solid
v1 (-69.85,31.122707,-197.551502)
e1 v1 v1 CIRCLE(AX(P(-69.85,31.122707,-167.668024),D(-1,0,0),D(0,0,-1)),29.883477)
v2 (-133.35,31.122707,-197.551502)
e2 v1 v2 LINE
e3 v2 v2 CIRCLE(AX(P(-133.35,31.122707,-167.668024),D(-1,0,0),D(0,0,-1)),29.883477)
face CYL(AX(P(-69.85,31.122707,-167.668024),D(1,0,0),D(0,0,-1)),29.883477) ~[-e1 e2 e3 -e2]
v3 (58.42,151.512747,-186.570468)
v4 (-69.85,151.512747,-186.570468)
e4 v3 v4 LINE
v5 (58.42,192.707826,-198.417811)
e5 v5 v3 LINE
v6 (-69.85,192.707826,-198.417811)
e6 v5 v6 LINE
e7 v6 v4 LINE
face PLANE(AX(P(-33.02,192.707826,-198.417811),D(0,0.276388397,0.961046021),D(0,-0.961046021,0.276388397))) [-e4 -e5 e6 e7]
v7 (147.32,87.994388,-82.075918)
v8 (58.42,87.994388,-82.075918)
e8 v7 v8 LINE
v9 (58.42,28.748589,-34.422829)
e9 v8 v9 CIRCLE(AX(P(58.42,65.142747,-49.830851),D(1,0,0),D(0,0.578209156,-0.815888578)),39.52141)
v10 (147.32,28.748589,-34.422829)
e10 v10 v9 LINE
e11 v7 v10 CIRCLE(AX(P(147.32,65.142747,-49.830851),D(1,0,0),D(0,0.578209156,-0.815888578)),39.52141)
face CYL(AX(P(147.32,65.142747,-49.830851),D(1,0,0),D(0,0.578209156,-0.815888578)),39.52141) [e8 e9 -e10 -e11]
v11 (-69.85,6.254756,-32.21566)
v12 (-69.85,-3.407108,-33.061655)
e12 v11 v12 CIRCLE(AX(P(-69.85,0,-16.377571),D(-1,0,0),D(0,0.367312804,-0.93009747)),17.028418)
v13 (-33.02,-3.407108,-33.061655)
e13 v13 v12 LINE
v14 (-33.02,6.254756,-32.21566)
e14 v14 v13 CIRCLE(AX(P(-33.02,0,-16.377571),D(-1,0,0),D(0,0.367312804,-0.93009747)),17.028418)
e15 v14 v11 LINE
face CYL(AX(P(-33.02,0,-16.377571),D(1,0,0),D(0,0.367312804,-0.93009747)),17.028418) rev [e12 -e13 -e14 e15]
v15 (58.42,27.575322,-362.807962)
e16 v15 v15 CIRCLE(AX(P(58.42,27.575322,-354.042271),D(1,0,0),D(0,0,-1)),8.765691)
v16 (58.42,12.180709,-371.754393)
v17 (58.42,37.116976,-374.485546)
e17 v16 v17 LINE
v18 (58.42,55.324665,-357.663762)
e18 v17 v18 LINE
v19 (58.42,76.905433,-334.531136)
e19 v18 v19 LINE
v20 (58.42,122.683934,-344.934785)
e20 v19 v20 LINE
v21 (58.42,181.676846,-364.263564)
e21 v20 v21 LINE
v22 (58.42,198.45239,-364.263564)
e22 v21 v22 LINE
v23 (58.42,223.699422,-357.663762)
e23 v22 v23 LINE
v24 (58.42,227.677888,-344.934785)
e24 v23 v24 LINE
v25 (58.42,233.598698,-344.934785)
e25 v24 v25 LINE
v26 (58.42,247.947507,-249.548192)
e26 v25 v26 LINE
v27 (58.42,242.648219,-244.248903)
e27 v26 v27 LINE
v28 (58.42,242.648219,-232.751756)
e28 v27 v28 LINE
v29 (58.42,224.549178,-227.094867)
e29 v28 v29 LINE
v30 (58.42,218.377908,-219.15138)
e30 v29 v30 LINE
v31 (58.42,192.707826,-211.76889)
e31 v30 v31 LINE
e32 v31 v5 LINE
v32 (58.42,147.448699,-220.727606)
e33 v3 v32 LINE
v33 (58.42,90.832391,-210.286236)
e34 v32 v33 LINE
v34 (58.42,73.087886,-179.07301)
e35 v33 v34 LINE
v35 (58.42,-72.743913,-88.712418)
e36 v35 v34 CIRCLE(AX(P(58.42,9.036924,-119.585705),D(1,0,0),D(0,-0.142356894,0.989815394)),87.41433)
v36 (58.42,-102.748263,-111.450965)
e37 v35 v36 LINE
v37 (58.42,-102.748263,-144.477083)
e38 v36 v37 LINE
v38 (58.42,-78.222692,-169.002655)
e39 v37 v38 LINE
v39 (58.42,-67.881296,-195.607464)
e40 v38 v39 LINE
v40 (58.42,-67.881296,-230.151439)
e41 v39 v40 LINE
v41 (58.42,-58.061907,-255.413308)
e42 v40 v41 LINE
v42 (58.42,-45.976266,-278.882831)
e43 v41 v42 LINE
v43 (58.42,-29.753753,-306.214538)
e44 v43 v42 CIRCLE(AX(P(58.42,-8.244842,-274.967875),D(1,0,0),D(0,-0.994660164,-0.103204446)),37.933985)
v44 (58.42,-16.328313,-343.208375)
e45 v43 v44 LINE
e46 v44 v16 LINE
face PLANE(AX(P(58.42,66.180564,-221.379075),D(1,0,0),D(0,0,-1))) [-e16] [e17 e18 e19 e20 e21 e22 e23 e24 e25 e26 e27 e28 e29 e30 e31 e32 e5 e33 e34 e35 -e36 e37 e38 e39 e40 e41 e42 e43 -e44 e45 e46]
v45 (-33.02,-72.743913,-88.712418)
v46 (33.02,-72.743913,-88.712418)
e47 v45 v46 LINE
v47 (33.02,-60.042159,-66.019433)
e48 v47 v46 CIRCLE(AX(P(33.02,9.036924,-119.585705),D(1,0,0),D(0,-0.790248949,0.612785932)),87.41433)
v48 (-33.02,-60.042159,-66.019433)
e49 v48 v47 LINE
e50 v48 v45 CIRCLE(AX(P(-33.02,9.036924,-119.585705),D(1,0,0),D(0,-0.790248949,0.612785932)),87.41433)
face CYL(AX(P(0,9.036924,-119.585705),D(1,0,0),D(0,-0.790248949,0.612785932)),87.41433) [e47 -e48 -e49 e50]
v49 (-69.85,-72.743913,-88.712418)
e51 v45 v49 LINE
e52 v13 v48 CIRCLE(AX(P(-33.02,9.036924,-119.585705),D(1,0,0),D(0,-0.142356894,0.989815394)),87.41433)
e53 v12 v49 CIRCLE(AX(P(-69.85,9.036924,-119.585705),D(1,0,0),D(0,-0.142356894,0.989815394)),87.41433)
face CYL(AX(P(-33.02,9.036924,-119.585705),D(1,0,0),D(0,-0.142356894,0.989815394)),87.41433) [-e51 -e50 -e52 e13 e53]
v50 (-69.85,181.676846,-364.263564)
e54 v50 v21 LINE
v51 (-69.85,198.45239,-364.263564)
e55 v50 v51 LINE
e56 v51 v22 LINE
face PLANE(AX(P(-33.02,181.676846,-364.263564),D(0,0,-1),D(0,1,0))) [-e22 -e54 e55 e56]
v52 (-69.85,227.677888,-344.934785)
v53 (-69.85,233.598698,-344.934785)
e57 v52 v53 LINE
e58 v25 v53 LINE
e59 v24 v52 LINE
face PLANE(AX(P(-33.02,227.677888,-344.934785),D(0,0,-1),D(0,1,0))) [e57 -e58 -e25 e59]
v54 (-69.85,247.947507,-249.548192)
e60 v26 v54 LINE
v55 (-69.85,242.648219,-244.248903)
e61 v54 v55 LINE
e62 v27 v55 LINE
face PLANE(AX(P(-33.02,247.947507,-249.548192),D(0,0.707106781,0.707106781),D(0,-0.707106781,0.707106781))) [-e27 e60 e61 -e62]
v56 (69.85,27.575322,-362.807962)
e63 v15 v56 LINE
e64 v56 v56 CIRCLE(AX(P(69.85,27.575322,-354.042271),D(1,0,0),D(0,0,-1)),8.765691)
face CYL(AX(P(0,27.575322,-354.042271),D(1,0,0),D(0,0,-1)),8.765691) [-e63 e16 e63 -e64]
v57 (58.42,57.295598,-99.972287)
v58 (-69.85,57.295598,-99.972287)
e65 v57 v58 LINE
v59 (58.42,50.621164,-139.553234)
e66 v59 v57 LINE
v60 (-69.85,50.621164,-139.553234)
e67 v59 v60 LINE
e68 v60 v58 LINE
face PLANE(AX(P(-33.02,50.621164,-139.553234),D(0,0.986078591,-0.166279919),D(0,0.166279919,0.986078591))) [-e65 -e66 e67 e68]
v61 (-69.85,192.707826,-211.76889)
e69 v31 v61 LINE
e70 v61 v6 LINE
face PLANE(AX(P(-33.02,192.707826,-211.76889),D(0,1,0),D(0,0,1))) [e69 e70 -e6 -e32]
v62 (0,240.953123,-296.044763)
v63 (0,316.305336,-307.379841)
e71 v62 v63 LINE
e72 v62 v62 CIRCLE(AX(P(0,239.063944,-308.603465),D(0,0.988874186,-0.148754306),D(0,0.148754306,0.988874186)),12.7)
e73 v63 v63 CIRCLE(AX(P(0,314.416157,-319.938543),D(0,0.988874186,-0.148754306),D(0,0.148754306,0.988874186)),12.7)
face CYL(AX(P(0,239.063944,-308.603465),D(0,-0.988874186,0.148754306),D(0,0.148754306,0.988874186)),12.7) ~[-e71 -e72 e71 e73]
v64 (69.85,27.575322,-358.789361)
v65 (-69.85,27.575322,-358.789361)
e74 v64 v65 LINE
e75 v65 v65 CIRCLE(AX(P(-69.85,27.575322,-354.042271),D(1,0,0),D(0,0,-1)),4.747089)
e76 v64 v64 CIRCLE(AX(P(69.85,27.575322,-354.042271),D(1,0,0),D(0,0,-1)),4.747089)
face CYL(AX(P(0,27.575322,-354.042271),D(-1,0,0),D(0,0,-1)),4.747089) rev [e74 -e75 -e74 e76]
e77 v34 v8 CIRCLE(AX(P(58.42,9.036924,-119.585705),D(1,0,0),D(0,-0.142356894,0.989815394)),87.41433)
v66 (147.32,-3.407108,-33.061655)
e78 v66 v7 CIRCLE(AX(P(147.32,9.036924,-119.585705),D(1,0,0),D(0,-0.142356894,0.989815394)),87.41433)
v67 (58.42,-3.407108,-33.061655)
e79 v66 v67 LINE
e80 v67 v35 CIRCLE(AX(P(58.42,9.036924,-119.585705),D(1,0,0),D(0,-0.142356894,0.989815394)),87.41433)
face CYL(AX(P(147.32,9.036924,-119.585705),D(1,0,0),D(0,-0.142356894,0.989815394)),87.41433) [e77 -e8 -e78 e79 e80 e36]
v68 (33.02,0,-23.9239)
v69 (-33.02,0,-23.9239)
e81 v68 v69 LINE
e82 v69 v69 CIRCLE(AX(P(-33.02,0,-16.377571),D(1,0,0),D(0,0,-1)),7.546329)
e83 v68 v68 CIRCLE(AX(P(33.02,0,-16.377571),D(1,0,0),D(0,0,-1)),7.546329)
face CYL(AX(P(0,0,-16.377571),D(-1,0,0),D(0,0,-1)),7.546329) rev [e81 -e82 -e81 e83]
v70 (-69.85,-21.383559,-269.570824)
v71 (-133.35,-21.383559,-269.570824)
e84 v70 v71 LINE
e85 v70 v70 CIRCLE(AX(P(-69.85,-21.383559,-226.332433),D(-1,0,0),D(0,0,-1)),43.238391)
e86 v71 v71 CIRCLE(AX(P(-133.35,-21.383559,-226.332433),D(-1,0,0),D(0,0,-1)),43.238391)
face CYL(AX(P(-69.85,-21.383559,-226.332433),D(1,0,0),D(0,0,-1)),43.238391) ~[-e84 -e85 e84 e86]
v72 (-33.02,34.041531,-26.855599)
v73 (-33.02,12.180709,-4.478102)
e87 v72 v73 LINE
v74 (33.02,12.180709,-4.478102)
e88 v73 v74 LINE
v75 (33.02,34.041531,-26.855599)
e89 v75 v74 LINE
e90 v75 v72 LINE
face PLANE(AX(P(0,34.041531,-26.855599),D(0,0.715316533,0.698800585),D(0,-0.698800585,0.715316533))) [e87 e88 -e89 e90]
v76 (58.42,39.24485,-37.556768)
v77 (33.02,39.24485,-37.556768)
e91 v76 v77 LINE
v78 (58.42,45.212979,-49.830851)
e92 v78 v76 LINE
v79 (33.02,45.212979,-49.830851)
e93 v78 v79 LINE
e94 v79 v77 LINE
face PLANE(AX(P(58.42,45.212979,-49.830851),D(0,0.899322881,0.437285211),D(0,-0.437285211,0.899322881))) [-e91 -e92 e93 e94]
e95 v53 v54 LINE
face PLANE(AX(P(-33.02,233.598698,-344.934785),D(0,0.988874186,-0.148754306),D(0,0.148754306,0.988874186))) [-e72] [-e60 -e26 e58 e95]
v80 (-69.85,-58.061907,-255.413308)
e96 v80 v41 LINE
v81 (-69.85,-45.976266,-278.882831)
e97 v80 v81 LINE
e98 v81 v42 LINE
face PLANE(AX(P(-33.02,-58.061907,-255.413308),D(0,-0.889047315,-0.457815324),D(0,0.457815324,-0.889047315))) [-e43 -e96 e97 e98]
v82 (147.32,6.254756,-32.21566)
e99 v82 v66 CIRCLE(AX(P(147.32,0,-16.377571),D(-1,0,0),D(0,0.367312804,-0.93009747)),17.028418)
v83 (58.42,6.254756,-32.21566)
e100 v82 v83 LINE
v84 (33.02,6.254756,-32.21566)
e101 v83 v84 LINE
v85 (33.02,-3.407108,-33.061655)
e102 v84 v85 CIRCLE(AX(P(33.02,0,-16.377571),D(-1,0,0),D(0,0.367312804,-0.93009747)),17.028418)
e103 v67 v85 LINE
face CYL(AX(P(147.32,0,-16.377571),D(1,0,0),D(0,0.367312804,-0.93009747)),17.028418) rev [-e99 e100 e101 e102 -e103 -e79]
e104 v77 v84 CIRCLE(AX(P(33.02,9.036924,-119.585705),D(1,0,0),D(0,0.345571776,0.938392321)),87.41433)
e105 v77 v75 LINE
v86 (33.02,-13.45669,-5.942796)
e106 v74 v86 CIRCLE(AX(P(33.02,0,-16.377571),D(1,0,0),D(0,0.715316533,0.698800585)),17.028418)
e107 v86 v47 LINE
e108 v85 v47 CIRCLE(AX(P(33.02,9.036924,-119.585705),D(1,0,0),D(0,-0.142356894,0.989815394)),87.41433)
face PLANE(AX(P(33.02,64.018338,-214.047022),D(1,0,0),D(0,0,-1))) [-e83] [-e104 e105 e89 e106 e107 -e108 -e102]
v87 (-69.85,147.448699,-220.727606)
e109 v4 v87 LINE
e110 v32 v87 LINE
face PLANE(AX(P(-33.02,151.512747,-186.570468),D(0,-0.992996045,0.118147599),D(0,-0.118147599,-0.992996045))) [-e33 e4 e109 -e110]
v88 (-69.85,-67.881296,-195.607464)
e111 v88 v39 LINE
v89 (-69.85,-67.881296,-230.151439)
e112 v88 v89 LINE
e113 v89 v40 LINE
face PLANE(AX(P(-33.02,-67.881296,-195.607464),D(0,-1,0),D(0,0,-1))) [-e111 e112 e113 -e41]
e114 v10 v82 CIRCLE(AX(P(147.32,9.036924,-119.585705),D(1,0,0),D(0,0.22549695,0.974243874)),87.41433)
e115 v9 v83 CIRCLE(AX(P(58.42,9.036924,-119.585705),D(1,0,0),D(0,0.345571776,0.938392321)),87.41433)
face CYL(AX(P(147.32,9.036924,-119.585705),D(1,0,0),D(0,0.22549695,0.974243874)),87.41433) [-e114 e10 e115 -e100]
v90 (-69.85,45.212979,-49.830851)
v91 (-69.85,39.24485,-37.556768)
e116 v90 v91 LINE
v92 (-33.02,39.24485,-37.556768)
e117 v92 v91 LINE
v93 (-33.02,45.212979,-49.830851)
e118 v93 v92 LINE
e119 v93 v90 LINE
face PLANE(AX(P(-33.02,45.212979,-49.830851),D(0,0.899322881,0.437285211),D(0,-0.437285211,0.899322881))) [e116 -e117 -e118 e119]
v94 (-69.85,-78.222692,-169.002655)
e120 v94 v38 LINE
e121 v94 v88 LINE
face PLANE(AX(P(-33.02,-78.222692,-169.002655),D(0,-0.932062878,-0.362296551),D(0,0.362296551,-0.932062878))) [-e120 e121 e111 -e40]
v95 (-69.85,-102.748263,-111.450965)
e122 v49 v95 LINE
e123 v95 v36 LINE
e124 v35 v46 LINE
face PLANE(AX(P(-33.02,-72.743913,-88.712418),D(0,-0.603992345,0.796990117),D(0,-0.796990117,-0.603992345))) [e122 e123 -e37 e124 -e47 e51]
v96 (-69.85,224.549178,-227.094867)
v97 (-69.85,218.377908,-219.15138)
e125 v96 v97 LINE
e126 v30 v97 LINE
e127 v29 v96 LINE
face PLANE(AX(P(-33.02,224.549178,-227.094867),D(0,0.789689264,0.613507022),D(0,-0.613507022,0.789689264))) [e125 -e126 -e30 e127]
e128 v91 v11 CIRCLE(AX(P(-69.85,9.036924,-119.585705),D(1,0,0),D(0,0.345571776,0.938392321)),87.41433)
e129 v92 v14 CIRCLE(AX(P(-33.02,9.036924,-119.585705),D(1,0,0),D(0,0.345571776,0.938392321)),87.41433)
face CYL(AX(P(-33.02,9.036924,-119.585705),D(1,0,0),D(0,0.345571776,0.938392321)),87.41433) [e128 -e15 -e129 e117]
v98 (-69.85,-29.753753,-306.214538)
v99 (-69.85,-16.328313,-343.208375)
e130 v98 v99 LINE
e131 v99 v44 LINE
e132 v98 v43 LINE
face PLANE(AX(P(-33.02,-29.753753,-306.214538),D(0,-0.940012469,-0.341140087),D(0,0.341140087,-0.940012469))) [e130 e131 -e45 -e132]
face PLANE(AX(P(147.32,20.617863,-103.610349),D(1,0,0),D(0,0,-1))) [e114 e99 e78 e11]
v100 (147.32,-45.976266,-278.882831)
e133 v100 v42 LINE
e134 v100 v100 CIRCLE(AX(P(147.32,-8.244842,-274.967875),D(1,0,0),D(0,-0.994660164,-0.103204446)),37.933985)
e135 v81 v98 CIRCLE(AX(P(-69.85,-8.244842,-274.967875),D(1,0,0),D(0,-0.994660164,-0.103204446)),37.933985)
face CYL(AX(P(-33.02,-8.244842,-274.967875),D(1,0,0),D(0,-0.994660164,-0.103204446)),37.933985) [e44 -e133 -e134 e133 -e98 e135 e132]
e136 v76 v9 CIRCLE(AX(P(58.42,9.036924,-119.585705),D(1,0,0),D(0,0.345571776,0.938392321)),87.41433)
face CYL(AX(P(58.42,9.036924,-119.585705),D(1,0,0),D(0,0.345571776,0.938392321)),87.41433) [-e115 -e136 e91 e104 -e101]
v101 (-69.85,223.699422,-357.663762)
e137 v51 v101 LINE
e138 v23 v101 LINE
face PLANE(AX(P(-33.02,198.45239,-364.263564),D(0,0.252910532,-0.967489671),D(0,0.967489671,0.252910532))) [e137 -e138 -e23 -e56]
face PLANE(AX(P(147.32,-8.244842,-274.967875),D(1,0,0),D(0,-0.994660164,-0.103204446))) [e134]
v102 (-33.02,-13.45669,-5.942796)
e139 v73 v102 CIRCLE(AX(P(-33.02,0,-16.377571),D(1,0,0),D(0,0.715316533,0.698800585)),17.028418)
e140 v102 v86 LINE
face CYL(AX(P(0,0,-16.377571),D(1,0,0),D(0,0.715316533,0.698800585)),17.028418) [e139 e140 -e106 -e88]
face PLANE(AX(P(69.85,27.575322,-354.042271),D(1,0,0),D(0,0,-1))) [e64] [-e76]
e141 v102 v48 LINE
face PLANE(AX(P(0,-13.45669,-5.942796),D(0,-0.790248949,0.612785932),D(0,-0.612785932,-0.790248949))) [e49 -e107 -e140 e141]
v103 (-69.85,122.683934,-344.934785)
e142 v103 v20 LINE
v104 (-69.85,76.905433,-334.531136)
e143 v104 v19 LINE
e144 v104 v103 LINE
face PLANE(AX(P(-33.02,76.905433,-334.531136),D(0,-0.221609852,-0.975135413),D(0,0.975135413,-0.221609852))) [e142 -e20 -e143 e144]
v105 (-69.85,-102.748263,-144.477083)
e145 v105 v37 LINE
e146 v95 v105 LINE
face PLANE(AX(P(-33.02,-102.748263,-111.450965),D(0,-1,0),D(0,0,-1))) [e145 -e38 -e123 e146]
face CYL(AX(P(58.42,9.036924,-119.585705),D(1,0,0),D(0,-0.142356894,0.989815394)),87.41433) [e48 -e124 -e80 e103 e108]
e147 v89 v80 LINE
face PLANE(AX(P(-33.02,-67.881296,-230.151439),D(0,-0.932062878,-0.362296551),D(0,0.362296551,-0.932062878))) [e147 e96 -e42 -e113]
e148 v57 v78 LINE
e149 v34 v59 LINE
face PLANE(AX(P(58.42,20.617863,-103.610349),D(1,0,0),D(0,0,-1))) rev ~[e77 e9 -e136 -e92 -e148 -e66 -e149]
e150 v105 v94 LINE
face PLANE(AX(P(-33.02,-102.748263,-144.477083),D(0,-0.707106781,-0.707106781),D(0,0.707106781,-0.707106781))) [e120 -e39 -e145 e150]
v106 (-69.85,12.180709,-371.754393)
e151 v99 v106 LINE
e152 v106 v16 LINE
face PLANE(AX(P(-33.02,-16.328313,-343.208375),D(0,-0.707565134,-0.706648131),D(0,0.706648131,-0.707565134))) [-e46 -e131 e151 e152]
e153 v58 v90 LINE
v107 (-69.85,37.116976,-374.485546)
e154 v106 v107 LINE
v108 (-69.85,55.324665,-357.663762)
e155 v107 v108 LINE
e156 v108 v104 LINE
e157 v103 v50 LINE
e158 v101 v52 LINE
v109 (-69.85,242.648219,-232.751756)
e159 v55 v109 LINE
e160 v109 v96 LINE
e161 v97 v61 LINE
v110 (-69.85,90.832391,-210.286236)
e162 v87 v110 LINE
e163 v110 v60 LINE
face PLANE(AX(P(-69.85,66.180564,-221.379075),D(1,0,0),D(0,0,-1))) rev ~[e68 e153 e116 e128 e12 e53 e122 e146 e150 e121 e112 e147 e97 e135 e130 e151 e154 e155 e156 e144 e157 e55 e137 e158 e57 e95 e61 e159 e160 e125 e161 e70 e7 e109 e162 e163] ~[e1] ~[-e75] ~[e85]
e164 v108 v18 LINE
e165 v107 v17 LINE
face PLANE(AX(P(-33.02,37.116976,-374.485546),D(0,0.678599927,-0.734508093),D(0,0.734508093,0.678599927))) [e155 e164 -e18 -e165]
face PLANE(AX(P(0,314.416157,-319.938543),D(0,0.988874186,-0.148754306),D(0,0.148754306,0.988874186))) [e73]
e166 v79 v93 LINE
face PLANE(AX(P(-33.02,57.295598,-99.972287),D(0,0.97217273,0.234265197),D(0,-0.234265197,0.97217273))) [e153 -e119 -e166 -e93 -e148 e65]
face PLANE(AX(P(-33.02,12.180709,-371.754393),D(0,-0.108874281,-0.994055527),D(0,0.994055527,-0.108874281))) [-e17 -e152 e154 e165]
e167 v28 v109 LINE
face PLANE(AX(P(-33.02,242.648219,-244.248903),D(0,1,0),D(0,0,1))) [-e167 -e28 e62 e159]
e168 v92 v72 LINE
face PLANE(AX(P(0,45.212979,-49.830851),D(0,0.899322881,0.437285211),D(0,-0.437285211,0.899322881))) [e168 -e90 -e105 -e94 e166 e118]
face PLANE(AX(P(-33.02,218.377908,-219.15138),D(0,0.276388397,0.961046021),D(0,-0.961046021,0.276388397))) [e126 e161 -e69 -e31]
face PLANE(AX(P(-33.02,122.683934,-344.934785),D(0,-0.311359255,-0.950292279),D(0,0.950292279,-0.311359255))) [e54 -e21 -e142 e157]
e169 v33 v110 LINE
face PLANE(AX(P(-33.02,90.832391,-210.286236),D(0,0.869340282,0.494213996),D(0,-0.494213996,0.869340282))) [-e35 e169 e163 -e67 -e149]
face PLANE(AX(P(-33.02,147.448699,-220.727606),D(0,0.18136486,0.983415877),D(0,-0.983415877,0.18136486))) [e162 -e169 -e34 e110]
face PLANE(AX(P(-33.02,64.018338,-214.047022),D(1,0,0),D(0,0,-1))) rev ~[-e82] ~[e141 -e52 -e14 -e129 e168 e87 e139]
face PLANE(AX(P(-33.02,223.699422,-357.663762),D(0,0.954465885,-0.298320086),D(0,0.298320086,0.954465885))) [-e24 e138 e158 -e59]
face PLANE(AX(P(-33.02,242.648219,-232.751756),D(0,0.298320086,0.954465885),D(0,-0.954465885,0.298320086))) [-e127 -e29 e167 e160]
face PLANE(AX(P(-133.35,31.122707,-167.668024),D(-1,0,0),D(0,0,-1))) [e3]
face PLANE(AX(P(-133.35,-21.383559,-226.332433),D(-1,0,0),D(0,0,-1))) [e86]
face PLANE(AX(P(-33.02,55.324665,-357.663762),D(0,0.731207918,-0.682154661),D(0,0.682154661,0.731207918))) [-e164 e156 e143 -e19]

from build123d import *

# Parameters (mm, degrees)
SKETCH3_R           = 8.765690973
SKETCH3_R_2         = 7.546329472
BOSS_EXTRUDE1_DEPTH = 33.02
SKETCH3_3_R         = 8.765690973
SKETCH3_3_R_2       = 4.747089374
BOSS_EXTRUDE2_DEPTH = 69.85
BOSS_EXTRUDE3_START = 58.42
SKETCH3_4_R         = 8.765690973
BOSS_EXTRUDE3_DEPTH = 25.4
BOSS_EXTRUDE4_START = 147.32
SKETCH3_5_R         = 37.933984784
BOSS_EXTRUDE4_DEPTH = 88.9
BOSS_EXTRUDE5_START = -33.02
SKETCH3_6_R         = 8.765690973
BOSS_EXTRUDE5_DEPTH = 36.83
SKETCH4_R           = 29.883477217
SKETCH4_R_2         = 43.238390789
BOSS_EXTRUDE6_DEPTH = 63.5
SKETCH5_R           = 12.7
BOSS_EXTRUDE7_DEPTH = 76.2


with BuildPart() as part:
    # Sketch3 → Boss-Extrude1 (new, symmetric)
    with BuildSketch(Plane(origin=(0, 0, 0), x_dir=(0, 0, -1), z_dir=(1, 0, 0))):
        with BuildLine():
            Line((26.855598623, 34.04153134), (4.47810231, 12.180709193))
            ThreePointArc((4.47810231, 12.180709193), (-0.623125102, -0.971268934), (5.942795811, -13.456689726))
            Line((5.942795811, -13.456689726), (66.019432644, -60.042158643))
            ThreePointArc((66.019432644, -60.042158643), (76.890934177, -67.24165573), (88.712417559, -72.743912948))
            Line((88.712417559, -72.743912948), (111.45096516, -102.748262935))
            Line((111.45096516, -102.748262935), (144.477083252, -102.748262935))
            Line((144.477083252, -102.748262935), (169.002654574, -78.222691613))
            Line((169.002654574, -78.222691613), (195.607463956, -67.881296304))
            Line((195.607463956, -67.881296304), (230.151439421, -67.881296304))
            Line((230.151439421, -67.881296304), (255.413307952, -58.06190745))
            Line((255.413307952, -58.06190745), (278.88283078, -45.976265865))
            ThreePointArc((278.88283078, -45.976265865), (294.32962444, -40.865539072), (306.21453812, -29.753753007))
            Line((306.21453812, -29.753753007), (343.20837466, -16.328313428))
            Line((343.20837466, -16.328313428), (371.754392863, 12.180709193))
            Line((371.754392863, 12.180709193), (374.485546232, 37.116975937))
            Line((374.485546232, 37.116975937), (357.663762198, 55.324665065))
            Line((357.663762198, 55.324665065), (334.531136252, 76.90543329))
            Line((334.531136252, 76.90543329), (344.934785387, 122.683933603))
            Line((344.934785387, 122.683933603), (364.263564291, 181.676846378))
            Line((364.263564291, 181.676846378), (364.263564291, 198.452389962))
            Line((364.263564291, 198.452389962), (357.663762198, 223.699422208))
            Line((357.663762198, 223.699422208), (344.934785387, 227.677887566))
            Line((344.934785387, 227.677887566), (344.934785387, 233.598698071))
            Line((344.934785387, 233.598698071), (249.548191735, 247.947506817))
            Line((249.548191735, 247.947506817), (244.248903474, 242.648218557))
            Line((244.248903474, 242.648218557), (232.751756038, 242.648218557))
            Line((232.751756038, 242.648218557), (227.094867147, 224.549177586))
            Line((227.094867147, 224.549177586), (219.151380314, 218.377908492))
            Line((219.151380314, 218.377908492), (211.768889899, 192.707825641))
            Line((211.768889899, 192.707825641), (198.41781103, 192.707825641))
            Line((198.41781103, 192.707825641), (186.570468216, 151.512747216))
            Line((186.570468216, 151.512747216), (220.727605993, 147.448698974))
            Line((220.727605993, 147.448698974), (210.286236359, 90.83239142))
            Line((210.286236359, 90.83239142), (139.553233817, 50.621163948))
            Line((139.553233817, 50.621163948), (99.972286673, 57.295598172))
            Line((99.972286673, 57.295598172), (49.830851017, 45.21297855))
            Line((49.830851017, 45.21297855), (26.855598623, 34.04153134))
        make_face()
        with Locations((354.042271494, 27.57532186)):
            Circle(SKETCH3_R, mode=Mode.SUBTRACT)
        with Locations((16.377571024, 0)):
            Circle(SKETCH3_R_2, mode=Mode.SUBTRACT)
    extrude(amount=BOSS_EXTRUDE1_DEPTH, both=True)



with BuildPart() as body_2:
    # Sketch3<3> → Boss-Extrude2 (new, symmetric)
    with BuildSketch(Plane(origin=(0, 0, 0), x_dir=(0, 0, -1), z_dir=(1, 0, 0))):
        with Locations((354.042271494, 27.57532186)):
            Circle(SKETCH3_3_R)
        with Locations((354.042271494, 27.57532186)):
            Circle(SKETCH3_3_R_2, mode=Mode.SUBTRACT)
    extrude(amount=BOSS_EXTRUDE2_DEPTH, both=True)


with BuildPart() as part_1:
    add(part.part)

    add(body_2.part)  # Boss-Extrude3 merges body 2
    # Sketch3<4> → Boss-Extrude3 (add)
    with BuildSketch(Plane(origin=(0, 0, 0), x_dir=(0, 0, -1), z_dir=(1, 0, 0)).offset(BOSS_EXTRUDE3_START)):
        with BuildLine():
            ThreePointArc((32.215659867, 6.254756105), (33.341085724, 1.485328635), (33.061654594, -3.407108386))
            ThreePointArc((33.061654594, -3.407108386), (51.413629646, -45.679009257), (88.712417559, -72.743912948))
            Line((88.712417559, -72.743912948), (111.45096516, -102.748262935))
            Line((111.45096516, -102.748262935), (144.477083252, -102.748262935))
            Line((144.477083252, -102.748262935), (169.002654574, -78.222691613))
            Line((169.002654574, -78.222691613), (195.607463956, -67.881296304))
            Line((195.607463956, -67.881296304), (230.151439421, -67.881296304))
            Line((230.151439421, -67.881296304), (255.413307952, -58.06190745))
            Line((255.413307952, -58.06190745), (278.88283078, -45.976265865))
            ThreePointArc((278.88283078, -45.976265865), (294.32962444, -40.865539072), (306.21453812, -29.753753007))
            Line((306.21453812, -29.753753007), (343.20837466, -16.328313428))
            Line((343.20837466, -16.328313428), (371.754392863, 12.180709193))
            Line((371.754392863, 12.180709193), (374.485546232, 37.116975937))
            Line((374.485546232, 37.116975937), (357.663762198, 55.324665065))
            Line((357.663762198, 55.324665065), (334.531136252, 76.90543329))
            Line((334.531136252, 76.90543329), (344.934785387, 122.683933603))
            Line((344.934785387, 122.683933603), (364.263564291, 181.676846378))
            Line((364.263564291, 181.676846378), (364.263564291, 198.452389962))
            Line((364.263564291, 198.452389962), (357.663762198, 223.699422208))
            Line((357.663762198, 223.699422208), (344.934785387, 227.677887566))
            Line((344.934785387, 227.677887566), (344.934785387, 233.598698071))
            Line((344.934785387, 233.598698071), (249.548191735, 247.947506817))
            Line((249.548191735, 247.947506817), (244.248903474, 242.648218557))
            Line((244.248903474, 242.648218557), (232.751756038, 242.648218557))
            Line((232.751756038, 242.648218557), (227.094867147, 224.549177586))
            Line((227.094867147, 224.549177586), (219.151380314, 218.377908492))
            Line((219.151380314, 218.377908492), (211.768889899, 192.707825641))
            Line((211.768889899, 192.707825641), (198.41781103, 192.707825641))
            Line((198.41781103, 192.707825641), (186.570468216, 151.512747216))
            Line((186.570468216, 151.512747216), (220.727605993, 147.448698974))
            Line((220.727605993, 147.448698974), (210.286236359, 90.83239142))
            Line((210.286236359, 90.83239142), (139.553233817, 50.621163948))
            Line((139.553233817, 50.621163948), (99.972286673, 57.295598172))
            Line((99.972286673, 57.295598172), (49.830851017, 45.21297855))
            Line((49.830851017, 45.21297855), (37.556768138, 39.2448496))
            ThreePointArc((37.556768138, 39.2448496), (33.294973494, 23.007425276), (32.215659867, 6.254756105))
        make_face()
        with Locations((354.042271494, 27.57532186)):
            Circle(SKETCH3_4_R, mode=Mode.SUBTRACT)
    extrude(amount=-BOSS_EXTRUDE3_DEPTH)

    # Sketch3<5> → Boss-Extrude4 (add)
    with BuildSketch(Plane(origin=(0, 0, 0), x_dir=(0, 0, -1), z_dir=(1, 0, 0)).offset(BOSS_EXTRUDE4_START)):
        with BuildLine():
            ThreePointArc((82.075918233, 87.994388044), (19.03494718, 89.912772519), (34.422828639, 28.74858909))
            ThreePointArc((34.422828639, 28.74858909), (32.589179891, 17.57330891), (32.215659867, 6.254756105))
            ThreePointArc((32.215659867, 6.254756105), (33.341085724, 1.485328635), (33.061654594, -3.407108386))
            ThreePointArc((33.061654594, -3.407108386), (196.622426511, -32.27419595), (82.075918233, 87.994388044))
        make_face()
        with Locations(Location((274.967874889, -8.24484233, 0), (0, 0, 275.923726861))):
            Circle(SKETCH3_5_R)
    extrude(amount=-BOSS_EXTRUDE4_DEPTH)

    # Sketch3<6> → Boss-Extrude5 (add)
    with BuildSketch(Plane(origin=(0, 0, 0), x_dir=(0, 0, -1), z_dir=(1, 0, 0)).offset(BOSS_EXTRUDE5_START)):
        with BuildLine():
            ThreePointArc((32.215659867, 6.254756105), (33.341085724, 1.485328635), (33.061654594, -3.407108386))
            ThreePointArc((33.061654594, -3.407108386), (51.413629646, -45.679009257), (88.712417559, -72.743912948))
            Line((88.712417559, -72.743912948), (111.45096516, -102.748262935))
            Line((111.45096516, -102.748262935), (144.477083252, -102.748262935))
            Line((144.477083252, -102.748262935), (169.002654574, -78.222691613))
            Line((169.002654574, -78.222691613), (195.607463956, -67.881296304))
            Line((195.607463956, -67.881296304), (230.151439421, -67.881296304))
            Line((230.151439421, -67.881296304), (255.413307952, -58.06190745))
            Line((255.413307952, -58.06190745), (278.88283078, -45.976265865))
            ThreePointArc((278.88283078, -45.976265865), (294.32962444, -40.865539072), (306.21453812, -29.753753007))
            Line((306.21453812, -29.753753007), (343.20837466, -16.328313428))
            Line((343.20837466, -16.328313428), (371.754392863, 12.180709193))
            Line((371.754392863, 12.180709193), (374.485546232, 37.116975937))
            Line((374.485546232, 37.116975937), (357.663762198, 55.324665065))
            Line((357.663762198, 55.324665065), (334.531136252, 76.90543329))
            Line((334.531136252, 76.90543329), (344.934785387, 122.683933603))
            Line((344.934785387, 122.683933603), (364.263564291, 181.676846378))
            Line((364.263564291, 181.676846378), (364.263564291, 198.452389962))
            Line((364.263564291, 198.452389962), (357.663762198, 223.699422208))
            Line((357.663762198, 223.699422208), (344.934785387, 227.677887566))
            Line((344.934785387, 227.677887566), (344.934785387, 233.598698071))
            Line((344.934785387, 233.598698071), (249.548191735, 247.947506817))
            Line((249.548191735, 247.947506817), (244.248903474, 242.648218557))
            Line((244.248903474, 242.648218557), (232.751756038, 242.648218557))
            Line((232.751756038, 242.648218557), (227.094867147, 224.549177586))
            Line((227.094867147, 224.549177586), (219.151380314, 218.377908492))
            Line((219.151380314, 218.377908492), (211.768889899, 192.707825641))
            Line((211.768889899, 192.707825641), (198.41781103, 192.707825641))
            Line((198.41781103, 192.707825641), (186.570468216, 151.512747216))
            Line((186.570468216, 151.512747216), (220.727605993, 147.448698974))
            Line((220.727605993, 147.448698974), (210.286236359, 90.83239142))
            Line((210.286236359, 90.83239142), (139.553233817, 50.621163948))
            Line((139.553233817, 50.621163948), (99.972286673, 57.295598172))
            Line((99.972286673, 57.295598172), (49.830851017, 45.21297855))
            Line((49.830851017, 45.21297855), (37.556768138, 39.2448496))
            ThreePointArc((37.556768138, 39.2448496), (33.294973494, 23.007425276), (32.215659867, 6.254756105))
        make_face()
        with Locations((354.042271494, 27.57532186)):
            Circle(SKETCH3_6_R, mode=Mode.SUBTRACT)
    extrude(amount=-BOSS_EXTRUDE5_DEPTH)

    # Sketch4 → Boss-Extrude6 (add)
    with BuildSketch(Plane.ZY.offset(69.85)):
        with Locations(Location((-167.668024488, 31.122707437, 0), (0, 0, 180))):
            Circle(SKETCH4_R)
        with Locations(Location((-226.332433107, -21.383558841, 0), (0, 0, 180))):
            Circle(SKETCH4_R_2)
    extrude(amount=BOSS_EXTRUDE6_DEPTH)

    # Sketch5 → Boss-Extrude7 (add)
    with BuildSketch(Plane(origin=(0, 279.169325886, -41.994866484), x_dir=(1, 0, 0), z_dir=(0, 0.9888741863075109, -0.1487543063398786))):
        with Locations(Location((0, 269.608209436, 0), (0, 0, 270))):
            Circle(SKETCH5_R)
    extrude(amount=BOSS_EXTRUDE7_DEPTH)


solid = part_1.part
